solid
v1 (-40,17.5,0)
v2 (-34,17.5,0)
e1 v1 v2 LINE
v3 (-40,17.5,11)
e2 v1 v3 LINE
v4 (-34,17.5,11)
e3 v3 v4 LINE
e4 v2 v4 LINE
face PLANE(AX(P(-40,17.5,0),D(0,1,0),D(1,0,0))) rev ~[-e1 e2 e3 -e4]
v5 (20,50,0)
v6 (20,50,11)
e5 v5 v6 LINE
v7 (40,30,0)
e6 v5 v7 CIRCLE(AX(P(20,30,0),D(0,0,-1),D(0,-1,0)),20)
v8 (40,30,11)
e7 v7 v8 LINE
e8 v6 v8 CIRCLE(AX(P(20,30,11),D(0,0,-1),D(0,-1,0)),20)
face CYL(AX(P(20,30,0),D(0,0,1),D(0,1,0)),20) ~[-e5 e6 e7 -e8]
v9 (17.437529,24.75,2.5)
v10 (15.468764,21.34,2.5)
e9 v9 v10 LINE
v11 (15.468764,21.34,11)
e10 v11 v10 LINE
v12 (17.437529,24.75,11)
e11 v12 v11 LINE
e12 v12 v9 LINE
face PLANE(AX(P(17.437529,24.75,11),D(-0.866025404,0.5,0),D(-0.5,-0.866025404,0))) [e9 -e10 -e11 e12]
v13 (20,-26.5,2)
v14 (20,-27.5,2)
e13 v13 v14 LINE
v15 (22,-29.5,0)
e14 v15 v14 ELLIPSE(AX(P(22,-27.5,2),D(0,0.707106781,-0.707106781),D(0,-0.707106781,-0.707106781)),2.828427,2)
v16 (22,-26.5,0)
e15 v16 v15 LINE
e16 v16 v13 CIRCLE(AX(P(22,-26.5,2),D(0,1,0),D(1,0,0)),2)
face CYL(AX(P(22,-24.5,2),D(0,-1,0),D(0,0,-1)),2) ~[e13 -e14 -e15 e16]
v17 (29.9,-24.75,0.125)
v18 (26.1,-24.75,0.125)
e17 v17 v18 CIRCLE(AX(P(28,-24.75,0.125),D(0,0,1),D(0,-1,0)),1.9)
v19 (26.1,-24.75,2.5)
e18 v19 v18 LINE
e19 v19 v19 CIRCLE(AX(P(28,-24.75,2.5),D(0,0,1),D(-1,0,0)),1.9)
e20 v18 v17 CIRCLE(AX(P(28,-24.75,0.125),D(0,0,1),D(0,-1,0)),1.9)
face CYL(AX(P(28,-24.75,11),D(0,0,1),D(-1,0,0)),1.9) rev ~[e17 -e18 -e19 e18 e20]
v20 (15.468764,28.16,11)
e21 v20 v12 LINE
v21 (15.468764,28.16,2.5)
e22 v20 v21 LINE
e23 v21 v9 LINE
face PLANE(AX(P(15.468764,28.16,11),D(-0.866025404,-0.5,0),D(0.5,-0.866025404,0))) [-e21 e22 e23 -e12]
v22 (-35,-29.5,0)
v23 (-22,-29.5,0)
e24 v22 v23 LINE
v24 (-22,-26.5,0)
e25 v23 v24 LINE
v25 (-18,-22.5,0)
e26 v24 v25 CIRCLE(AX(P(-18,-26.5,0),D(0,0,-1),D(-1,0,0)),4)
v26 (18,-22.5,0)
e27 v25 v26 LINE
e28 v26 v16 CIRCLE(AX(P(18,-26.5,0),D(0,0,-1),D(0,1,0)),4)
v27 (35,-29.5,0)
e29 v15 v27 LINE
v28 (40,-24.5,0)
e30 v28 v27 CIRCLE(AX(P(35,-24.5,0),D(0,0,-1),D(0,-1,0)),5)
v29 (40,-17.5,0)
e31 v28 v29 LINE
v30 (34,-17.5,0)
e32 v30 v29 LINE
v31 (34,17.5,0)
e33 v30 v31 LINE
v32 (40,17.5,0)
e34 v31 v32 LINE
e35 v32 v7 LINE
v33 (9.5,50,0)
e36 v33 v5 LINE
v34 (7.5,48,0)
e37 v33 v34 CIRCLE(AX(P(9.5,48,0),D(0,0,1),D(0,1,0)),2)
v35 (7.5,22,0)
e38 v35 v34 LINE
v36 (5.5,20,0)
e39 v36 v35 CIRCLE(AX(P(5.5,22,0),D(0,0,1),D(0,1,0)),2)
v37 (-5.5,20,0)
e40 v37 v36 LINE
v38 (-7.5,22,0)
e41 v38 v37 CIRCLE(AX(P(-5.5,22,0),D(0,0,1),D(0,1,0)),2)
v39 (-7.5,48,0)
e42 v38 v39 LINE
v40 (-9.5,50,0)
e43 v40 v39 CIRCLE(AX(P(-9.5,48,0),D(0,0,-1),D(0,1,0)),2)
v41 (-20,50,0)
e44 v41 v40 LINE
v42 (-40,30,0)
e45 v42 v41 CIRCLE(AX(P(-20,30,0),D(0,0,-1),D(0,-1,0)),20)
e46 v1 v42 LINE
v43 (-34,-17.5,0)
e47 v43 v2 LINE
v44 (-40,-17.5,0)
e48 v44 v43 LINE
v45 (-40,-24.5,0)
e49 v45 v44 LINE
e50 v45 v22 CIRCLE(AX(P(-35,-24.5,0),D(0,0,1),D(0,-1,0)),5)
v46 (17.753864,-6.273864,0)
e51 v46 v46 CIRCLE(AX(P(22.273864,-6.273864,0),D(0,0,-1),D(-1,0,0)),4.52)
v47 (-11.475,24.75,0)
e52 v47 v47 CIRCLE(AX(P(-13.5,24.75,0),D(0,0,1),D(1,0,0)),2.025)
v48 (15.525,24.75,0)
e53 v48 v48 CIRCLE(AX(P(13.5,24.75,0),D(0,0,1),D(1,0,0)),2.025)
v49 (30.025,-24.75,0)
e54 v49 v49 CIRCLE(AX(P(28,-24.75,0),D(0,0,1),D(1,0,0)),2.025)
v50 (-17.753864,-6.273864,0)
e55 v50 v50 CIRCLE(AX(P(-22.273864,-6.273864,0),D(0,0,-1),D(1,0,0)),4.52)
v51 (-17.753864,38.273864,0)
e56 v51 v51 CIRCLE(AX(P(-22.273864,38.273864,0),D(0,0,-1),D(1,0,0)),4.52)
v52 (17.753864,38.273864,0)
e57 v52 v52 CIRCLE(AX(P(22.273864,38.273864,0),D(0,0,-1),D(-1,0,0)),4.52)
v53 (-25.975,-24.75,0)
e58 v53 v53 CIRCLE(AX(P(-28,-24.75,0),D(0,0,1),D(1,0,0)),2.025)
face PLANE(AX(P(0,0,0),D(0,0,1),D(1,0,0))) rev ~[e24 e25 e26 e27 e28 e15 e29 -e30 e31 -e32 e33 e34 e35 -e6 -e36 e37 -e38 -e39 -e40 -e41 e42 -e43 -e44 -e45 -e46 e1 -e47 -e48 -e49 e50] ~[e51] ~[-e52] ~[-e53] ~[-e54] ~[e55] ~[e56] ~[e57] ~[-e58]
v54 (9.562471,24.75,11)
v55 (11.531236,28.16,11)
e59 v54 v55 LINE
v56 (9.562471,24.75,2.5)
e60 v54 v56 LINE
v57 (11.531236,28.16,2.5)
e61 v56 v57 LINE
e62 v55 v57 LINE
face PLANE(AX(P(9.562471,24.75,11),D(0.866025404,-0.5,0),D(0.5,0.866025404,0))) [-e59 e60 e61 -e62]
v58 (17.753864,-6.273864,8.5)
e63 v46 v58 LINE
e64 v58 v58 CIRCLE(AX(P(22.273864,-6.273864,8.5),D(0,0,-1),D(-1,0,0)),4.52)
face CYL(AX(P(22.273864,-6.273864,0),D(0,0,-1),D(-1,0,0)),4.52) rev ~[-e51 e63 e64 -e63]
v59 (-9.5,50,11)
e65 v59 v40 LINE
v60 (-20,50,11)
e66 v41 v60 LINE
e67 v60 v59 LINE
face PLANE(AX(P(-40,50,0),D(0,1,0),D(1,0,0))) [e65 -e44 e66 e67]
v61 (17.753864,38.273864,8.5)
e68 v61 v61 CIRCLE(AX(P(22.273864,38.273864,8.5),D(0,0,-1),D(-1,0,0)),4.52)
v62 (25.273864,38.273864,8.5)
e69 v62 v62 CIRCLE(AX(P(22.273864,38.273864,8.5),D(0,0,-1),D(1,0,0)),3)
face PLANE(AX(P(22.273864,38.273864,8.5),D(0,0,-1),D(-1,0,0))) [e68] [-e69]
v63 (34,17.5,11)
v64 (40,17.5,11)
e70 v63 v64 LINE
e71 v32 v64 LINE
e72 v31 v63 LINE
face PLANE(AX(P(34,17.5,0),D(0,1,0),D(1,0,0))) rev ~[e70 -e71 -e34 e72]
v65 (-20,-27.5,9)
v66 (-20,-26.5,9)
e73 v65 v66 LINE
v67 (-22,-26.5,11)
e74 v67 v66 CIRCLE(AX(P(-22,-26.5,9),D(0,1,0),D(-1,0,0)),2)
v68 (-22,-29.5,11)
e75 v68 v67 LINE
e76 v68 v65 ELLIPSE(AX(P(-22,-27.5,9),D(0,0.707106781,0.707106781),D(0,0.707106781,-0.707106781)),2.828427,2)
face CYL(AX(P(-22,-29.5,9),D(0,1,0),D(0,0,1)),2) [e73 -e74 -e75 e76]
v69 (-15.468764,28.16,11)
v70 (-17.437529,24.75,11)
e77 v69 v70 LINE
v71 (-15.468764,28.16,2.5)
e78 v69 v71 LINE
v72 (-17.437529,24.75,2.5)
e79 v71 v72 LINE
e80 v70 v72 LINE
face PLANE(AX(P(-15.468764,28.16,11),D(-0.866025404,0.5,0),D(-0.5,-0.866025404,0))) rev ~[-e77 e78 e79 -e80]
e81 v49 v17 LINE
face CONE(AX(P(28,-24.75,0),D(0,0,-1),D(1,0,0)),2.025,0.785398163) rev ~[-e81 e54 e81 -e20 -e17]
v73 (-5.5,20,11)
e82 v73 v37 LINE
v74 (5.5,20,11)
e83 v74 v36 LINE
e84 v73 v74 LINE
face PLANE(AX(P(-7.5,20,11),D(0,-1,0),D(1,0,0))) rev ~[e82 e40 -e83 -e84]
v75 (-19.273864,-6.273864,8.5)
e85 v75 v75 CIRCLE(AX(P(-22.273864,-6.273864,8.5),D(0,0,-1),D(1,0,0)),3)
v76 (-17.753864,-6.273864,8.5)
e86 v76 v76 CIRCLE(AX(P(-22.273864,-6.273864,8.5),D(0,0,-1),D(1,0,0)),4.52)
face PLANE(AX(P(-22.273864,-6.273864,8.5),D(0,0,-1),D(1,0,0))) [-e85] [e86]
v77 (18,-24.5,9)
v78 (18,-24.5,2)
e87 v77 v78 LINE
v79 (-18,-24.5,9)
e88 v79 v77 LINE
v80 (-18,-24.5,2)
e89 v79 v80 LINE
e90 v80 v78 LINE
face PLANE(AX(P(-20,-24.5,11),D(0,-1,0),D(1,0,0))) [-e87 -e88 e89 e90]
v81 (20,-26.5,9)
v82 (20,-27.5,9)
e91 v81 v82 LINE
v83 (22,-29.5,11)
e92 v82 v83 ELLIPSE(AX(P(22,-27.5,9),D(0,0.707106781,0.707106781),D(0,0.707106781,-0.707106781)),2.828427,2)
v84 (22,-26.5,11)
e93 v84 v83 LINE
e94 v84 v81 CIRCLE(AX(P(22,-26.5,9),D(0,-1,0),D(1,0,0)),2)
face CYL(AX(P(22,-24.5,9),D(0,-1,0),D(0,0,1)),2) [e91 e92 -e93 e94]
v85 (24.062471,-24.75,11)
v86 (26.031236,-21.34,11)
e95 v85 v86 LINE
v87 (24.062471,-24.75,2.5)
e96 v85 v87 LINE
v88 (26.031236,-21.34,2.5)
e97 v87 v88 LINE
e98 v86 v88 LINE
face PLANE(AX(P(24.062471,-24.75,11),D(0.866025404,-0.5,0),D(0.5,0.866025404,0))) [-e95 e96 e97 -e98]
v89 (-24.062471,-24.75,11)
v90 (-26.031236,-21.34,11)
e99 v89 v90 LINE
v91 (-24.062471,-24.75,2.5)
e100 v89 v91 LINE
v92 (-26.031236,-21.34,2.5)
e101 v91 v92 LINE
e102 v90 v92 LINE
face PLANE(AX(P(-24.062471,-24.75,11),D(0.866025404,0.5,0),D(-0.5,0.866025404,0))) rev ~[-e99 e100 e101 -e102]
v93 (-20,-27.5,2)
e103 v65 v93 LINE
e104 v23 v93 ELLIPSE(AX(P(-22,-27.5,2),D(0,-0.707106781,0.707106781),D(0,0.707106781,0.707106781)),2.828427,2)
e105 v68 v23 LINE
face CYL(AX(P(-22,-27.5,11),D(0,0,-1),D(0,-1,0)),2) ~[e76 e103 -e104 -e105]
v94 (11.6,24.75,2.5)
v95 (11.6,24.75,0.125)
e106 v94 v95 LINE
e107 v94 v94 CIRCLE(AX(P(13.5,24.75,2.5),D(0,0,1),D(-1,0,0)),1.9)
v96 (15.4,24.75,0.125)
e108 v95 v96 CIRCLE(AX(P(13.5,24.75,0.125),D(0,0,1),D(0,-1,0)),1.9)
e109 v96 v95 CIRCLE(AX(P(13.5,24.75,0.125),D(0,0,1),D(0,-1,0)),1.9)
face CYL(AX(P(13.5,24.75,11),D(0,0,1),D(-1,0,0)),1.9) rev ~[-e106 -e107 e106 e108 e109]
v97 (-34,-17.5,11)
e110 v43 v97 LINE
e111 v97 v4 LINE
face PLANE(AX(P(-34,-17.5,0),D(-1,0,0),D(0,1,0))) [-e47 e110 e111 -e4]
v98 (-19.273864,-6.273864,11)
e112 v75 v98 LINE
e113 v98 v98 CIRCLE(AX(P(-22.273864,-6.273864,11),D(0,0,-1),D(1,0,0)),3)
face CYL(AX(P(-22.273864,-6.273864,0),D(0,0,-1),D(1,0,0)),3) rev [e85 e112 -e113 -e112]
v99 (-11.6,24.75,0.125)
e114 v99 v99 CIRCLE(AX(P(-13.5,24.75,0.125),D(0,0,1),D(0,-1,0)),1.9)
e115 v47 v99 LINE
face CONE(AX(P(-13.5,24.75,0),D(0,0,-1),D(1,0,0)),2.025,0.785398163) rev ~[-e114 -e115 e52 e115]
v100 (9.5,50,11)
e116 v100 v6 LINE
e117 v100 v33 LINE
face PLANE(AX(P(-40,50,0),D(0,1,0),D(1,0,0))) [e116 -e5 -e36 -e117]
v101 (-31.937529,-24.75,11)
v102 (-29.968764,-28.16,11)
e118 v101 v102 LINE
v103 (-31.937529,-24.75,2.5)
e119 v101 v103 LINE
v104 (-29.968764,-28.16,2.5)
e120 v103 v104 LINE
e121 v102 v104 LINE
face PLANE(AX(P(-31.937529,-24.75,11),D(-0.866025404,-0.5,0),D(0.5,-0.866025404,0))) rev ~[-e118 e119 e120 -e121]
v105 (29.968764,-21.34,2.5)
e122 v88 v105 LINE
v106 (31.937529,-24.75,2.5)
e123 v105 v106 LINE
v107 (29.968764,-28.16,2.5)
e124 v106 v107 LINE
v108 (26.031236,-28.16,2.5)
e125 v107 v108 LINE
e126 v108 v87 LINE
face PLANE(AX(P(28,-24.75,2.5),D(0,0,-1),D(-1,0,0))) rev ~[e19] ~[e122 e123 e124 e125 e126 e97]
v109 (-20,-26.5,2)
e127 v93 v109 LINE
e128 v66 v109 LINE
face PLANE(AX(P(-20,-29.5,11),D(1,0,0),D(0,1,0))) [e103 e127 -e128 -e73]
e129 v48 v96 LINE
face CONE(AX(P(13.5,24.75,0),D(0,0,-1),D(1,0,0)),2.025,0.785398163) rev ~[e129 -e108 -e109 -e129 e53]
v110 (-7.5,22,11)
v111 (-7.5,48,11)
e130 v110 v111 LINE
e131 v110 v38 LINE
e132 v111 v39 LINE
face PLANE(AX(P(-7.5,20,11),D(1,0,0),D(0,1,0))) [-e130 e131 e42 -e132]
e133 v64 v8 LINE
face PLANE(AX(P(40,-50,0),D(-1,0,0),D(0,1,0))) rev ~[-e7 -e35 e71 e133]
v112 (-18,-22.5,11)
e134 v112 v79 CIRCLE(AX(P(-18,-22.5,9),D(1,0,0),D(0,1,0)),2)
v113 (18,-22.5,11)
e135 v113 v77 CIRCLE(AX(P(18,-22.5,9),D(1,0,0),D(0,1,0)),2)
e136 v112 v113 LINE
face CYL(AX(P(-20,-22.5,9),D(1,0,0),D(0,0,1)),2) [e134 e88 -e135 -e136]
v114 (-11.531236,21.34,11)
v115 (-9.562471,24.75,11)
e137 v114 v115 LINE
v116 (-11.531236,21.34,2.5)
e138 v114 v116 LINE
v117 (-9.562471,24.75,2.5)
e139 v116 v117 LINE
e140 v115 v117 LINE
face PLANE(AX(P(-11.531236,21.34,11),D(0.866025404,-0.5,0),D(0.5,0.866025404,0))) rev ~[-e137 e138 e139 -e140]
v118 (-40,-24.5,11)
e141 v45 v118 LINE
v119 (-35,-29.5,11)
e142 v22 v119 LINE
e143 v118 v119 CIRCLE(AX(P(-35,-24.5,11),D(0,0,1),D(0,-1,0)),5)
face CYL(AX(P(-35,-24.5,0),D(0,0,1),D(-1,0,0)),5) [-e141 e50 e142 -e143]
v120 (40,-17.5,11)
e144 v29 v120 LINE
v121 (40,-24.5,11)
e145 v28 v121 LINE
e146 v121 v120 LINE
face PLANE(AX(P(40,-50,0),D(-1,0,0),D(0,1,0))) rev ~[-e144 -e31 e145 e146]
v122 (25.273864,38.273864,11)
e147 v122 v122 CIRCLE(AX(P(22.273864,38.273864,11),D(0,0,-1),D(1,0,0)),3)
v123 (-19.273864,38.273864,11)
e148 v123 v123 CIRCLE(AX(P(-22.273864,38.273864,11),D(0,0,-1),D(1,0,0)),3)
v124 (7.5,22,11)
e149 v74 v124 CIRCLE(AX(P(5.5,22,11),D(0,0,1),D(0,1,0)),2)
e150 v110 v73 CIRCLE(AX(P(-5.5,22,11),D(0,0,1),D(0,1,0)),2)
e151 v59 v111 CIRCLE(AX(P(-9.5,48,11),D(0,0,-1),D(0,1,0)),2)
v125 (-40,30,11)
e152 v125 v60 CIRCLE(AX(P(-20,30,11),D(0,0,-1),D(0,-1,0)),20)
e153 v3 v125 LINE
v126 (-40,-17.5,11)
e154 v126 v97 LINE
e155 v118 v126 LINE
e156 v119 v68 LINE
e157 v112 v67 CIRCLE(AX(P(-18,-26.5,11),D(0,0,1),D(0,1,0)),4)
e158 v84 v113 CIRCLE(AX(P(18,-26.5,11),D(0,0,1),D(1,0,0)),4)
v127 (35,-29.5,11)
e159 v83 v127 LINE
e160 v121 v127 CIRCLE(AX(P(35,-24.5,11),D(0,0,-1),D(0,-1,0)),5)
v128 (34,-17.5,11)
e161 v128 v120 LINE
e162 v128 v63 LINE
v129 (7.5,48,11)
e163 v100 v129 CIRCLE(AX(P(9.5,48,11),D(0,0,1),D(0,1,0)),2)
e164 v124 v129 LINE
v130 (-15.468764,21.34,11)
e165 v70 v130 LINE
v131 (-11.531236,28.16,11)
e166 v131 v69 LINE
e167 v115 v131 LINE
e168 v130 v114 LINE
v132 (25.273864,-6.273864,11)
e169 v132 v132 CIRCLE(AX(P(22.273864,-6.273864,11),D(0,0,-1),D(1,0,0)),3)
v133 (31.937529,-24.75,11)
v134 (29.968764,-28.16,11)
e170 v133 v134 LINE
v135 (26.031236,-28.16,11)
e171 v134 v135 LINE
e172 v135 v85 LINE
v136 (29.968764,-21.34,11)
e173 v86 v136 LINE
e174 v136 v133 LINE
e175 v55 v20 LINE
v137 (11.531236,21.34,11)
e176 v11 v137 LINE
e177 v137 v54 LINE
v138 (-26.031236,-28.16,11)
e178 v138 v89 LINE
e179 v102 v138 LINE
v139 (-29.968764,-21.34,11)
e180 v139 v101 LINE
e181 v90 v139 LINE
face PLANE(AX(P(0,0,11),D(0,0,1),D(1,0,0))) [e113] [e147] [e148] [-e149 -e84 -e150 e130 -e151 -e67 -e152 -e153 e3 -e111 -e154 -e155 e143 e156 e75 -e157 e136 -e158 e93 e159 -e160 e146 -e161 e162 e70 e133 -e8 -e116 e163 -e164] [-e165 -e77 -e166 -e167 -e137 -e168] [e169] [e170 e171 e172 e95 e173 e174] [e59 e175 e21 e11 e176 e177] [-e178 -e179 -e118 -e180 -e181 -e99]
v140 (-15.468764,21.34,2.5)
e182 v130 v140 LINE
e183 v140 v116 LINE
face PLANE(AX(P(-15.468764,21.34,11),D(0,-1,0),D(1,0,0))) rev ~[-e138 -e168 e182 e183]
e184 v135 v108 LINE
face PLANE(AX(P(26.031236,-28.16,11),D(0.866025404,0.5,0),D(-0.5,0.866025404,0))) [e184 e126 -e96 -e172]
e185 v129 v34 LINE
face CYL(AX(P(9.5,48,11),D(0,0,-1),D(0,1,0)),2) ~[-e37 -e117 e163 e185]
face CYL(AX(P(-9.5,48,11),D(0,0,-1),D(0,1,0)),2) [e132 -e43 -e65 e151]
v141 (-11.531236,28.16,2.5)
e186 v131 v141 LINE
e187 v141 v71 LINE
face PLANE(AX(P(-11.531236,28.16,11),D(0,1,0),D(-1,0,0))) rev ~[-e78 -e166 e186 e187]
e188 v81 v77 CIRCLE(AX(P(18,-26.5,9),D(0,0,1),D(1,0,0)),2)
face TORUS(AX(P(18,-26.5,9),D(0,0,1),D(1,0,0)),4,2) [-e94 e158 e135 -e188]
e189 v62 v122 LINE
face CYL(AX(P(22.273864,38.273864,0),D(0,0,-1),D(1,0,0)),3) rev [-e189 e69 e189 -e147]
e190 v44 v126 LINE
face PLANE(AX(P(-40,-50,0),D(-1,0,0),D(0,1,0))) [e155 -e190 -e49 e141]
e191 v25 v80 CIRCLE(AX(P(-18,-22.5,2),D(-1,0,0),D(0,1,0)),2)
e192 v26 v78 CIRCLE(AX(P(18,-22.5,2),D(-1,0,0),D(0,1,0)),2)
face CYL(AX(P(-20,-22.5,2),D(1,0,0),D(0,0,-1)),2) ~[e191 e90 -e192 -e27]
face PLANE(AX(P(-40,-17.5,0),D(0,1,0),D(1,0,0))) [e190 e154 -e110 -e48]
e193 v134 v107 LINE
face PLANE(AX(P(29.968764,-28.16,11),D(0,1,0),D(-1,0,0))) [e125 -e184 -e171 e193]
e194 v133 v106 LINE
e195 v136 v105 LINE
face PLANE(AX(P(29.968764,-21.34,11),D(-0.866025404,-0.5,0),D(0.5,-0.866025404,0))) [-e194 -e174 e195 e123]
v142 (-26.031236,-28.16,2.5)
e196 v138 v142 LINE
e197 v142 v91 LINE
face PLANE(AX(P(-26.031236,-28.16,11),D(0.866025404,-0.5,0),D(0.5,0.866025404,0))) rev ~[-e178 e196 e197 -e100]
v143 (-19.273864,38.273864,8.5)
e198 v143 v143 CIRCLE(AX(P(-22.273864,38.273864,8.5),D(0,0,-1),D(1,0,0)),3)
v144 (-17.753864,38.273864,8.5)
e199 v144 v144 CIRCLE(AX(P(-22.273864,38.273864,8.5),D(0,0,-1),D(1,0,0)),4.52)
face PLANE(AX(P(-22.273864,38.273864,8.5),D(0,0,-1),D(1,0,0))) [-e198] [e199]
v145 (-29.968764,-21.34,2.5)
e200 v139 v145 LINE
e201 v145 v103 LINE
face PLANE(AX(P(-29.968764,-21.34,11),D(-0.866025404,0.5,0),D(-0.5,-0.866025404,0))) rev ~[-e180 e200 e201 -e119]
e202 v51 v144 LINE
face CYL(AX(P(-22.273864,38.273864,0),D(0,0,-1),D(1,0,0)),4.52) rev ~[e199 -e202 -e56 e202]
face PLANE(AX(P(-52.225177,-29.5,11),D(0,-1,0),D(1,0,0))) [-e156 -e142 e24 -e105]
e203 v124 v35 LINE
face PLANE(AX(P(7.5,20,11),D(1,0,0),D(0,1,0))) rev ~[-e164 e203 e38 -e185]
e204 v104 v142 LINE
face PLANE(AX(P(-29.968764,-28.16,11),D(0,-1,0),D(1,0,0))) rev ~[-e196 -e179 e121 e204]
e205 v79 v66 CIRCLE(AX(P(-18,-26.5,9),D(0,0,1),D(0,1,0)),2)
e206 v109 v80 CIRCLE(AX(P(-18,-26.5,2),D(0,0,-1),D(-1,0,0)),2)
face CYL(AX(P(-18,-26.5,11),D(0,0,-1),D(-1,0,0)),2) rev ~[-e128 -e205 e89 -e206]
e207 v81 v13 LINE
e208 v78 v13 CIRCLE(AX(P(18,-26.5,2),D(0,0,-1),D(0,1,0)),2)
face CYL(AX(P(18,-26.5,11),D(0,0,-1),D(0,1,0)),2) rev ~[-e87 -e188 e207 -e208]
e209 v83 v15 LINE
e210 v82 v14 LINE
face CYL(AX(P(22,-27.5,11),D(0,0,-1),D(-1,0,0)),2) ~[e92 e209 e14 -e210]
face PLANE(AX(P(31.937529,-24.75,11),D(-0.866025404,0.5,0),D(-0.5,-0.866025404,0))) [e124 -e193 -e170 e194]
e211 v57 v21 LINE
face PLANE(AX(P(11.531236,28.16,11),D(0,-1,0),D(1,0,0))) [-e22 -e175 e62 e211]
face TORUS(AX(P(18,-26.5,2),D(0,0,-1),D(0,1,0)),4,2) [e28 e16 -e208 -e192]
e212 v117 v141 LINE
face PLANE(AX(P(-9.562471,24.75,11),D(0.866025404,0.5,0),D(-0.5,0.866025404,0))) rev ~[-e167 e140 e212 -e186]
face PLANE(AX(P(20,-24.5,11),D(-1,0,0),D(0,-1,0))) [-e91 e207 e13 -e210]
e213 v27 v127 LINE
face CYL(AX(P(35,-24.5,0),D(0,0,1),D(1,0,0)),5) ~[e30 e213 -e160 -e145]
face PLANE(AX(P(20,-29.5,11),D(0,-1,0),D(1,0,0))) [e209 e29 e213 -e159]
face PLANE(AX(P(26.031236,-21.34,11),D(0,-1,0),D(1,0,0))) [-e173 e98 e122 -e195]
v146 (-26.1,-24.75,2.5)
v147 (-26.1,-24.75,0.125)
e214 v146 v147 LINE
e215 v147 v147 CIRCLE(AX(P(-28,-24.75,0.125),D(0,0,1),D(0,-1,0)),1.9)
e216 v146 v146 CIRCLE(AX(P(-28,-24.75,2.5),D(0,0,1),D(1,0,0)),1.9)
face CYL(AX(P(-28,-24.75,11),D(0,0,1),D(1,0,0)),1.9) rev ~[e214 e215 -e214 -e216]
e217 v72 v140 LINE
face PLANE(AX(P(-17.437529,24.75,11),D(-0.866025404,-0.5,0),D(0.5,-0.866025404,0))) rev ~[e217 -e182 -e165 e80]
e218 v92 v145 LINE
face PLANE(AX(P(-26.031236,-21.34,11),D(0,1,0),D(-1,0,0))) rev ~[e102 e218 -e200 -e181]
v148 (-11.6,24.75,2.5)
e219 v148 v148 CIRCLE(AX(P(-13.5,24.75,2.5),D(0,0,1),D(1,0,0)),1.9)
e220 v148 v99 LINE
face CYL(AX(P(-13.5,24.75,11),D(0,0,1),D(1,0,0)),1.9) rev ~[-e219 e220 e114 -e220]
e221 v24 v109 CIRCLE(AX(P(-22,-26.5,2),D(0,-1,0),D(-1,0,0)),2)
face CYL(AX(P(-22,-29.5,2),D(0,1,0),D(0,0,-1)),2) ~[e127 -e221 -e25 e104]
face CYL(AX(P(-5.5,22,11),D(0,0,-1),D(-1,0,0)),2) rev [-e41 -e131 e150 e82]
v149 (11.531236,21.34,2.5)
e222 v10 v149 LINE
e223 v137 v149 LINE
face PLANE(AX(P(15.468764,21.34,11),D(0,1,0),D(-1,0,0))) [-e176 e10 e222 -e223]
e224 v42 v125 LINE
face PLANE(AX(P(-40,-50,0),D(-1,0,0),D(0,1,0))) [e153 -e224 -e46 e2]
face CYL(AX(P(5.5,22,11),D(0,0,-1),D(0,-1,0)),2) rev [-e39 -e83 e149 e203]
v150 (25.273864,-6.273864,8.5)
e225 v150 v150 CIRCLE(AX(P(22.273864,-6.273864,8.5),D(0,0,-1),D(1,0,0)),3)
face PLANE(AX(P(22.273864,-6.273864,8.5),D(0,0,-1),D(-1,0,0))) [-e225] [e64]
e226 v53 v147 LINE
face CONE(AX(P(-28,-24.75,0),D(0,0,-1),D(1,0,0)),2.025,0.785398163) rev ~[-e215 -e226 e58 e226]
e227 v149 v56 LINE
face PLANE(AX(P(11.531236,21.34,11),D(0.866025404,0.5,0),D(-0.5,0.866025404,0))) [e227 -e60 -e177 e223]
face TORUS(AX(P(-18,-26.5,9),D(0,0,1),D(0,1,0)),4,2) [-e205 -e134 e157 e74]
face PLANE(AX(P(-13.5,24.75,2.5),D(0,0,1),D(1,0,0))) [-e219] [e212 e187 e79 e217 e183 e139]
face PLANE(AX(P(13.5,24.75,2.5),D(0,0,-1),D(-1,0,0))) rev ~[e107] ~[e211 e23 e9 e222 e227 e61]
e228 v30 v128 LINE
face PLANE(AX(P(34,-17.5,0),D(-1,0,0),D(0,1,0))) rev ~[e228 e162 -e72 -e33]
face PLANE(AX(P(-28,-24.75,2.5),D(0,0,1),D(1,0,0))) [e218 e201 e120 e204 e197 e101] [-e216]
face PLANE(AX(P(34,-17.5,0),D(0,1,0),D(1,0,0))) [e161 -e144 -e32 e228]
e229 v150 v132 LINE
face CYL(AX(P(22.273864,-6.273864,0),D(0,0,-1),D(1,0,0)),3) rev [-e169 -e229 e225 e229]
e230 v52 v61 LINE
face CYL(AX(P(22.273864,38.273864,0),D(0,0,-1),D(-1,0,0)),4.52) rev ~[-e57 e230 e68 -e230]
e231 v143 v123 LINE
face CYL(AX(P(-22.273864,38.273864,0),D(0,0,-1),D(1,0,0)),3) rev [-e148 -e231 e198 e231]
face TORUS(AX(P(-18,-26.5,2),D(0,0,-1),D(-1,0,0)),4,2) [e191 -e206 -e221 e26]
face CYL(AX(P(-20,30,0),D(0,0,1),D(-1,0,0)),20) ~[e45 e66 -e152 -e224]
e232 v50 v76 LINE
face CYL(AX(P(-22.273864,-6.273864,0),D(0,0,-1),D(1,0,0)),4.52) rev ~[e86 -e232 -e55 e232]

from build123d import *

# Parameters (mm, degrees)
SKETCH_1_W                   = 80
SKETCH_1_H                   = 100
EXTRUDE_1_DEPTH              = 11
SKETCH_7_W                   = 15
SKETCH_7_H                   = 30
CUT_EXTRUDE_1_DEPTH          = 16
HOLE_WIZARD_M4_1_D           = 3.3
HOLE_WIZARD_M4_1_CSINK_D     = 4.05
HOLE_WIZARD_M4_1_CSINK_ANGLE = 90
FILLET_1_R                   = 20
FILLET_2_R                   = 2
SKETCH_9_W                   = 6
SKETCH_9_H                   = 35
CUT_EXTRUDE_2_DEPTH          = 11
SKETCH_11_R                  = 3
CUT_EXTRUDE_4_DEPTH          = 15
SKETCH_15_R                  = 1.9
CUT_EXTRUDE_8_DEPTH          = 14
SKETCH_16_R                  = 4.52
CUT_EXTRUDE_9_DEPTH          = 8.5
CUT_EXTRUDE_10_DEPTH         = 8.5
CUT_EXTRUDE_11_DEPTH         = 13.5
FILLET_4_R                   = 5
FILLET_5_R                   = 2


with BuildPart() as part:
    # 草图1 → 凸台-拉伸1 (new body)
    with BuildSketch(Plane.XY):
        Rectangle(SKETCH_1_W, SKETCH_1_H)
    extrude(amount=EXTRUDE_1_DEPTH)

    # 草图7 → 切除-拉伸1 (cut)
    with BuildSketch(Plane.XY.offset(11)):
        with Locations((0, 35)):
            Rectangle(SKETCH_7_W, SKETCH_7_H)
    extrude(amount=-CUT_EXTRUDE_1_DEPTH, mode=Mode.SUBTRACT)

    # M4 螺纹孔1 (through all)
    with Locations(Plane(origin=(13.5, 24.75, 0), x_dir=(-1, 0, 0), z_dir=(0, 0, -1))):
        with Locations((0, 0), (27, 0), (41.5, -49.5), (-14.5, -49.5)):
            CounterSinkHole(HOLE_WIZARD_M4_1_D / 2, HOLE_WIZARD_M4_1_CSINK_D / 2, counter_sink_angle=HOLE_WIZARD_M4_1_CSINK_ANGLE)

    # 圆角1
    fillet_1_edges = [part.edges().sort_by_distance(p)[0] for p in [
        (-40, 50, 5.5),
        (40, 50, 5.5),
    ]]
    fillet(fillet_1_edges, radius=FILLET_1_R)

    # 圆角2
    fillet_2_edges = [part.edges().sort_by_distance(p)[0] for p in [
        (-7.5, 20, 5.5),
        (-7.5, 50, 5.5),
        (7.5, 50, 5.5),
        (7.5, 20, 5.5),
        (40, -50, 5.5),
        (-40, -50, 5.5),
    ]]
    fillet(fillet_2_edges, radius=FILLET_2_R)

    # 草图9 → 切除-拉伸2 (cut)
    with BuildSketch(Plane.XY):
        with Locations((37, 0)):
            Rectangle(SKETCH_9_W, SKETCH_9_H)
        with Locations((-37, 0)):
            Rectangle(SKETCH_9_W, SKETCH_9_H)
    extrude(amount=CUT_EXTRUDE_2_DEPTH, mode=Mode.SUBTRACT)

    # 草图11 → 切除-拉伸4 (cut)
    with BuildSketch(Plane.XY):
        with Locations((-22.273863607, 38.273863607)):
            Circle(SKETCH_11_R)
        with Locations((22.273863607, 38.273863607)):
            Circle(SKETCH_11_R)
        with Locations((22.273863607, -6.273863607)):
            Circle(SKETCH_11_R)
        with Locations((-22.273863607, -6.273863607)):
            Circle(SKETCH_11_R)
    extrude(amount=CUT_EXTRUDE_4_DEPTH, mode=Mode.SUBTRACT)

    # 草图15 → 切除-拉伸8 (cut)
    with BuildSketch(Plane.XY.offset(11)):
        with Locations((-13.5, 24.75)):
            Circle(SKETCH_15_R)
        with Locations((-28, -24.75)):
            Circle(SKETCH_15_R)
        with Locations(Location((13.5, 24.75, 0), (0, 0, 180))):
            Circle(SKETCH_15_R)
        with Locations(Location((28, -24.75, 0), (0, 0, 180))):
            Circle(SKETCH_15_R)
    extrude(amount=-CUT_EXTRUDE_8_DEPTH, mode=Mode.SUBTRACT)

    # 草图16 → 切除-拉伸9 (cut)
    with BuildSketch(Plane(origin=(0, 0, 0), x_dir=(-1, 0, 0), z_dir=(0, 0, -1))):
        with Locations((-22.273863607, 38.273863607)):
            Circle(SKETCH_16_R)
        with Locations((-22.273863607, -6.273863607)):
            Circle(SKETCH_16_R)
        with Locations(Location((22.273863607, -6.273863607, 0), (0, 0, 180))):
            Circle(SKETCH_16_R)
        with Locations(Location((22.273863607, 38.273863607, 0), (0, 0, 180))):
            Circle(SKETCH_16_R)
    extrude(amount=-CUT_EXTRUDE_9_DEPTH, mode=Mode.SUBTRACT)

    # 草图17 → 切除-拉伸10 (cut)
    with BuildSketch(Plane.XY.offset(11)):
        Polygon((-15.468764418, 21.34), (-11.531235582, 21.34), (-9.562471164, 24.75), (-11.531235582, 28.16), (-15.468764418, 28.16), (-17.437528836, 24.75), align=None)
        Polygon((-26.031235582, -28.16), (-24.062471164, -24.75), (-26.031235582, -21.34), (-29.968764418, -21.34), (-31.937528836, -24.75), (-29.968764418, -28.16), align=None)
        Polygon((29.968764418, -28.16), (26.031235582, -28.16), (24.062471164, -24.75), (26.031235582, -21.34), (29.968764418, -21.34), (31.937528836, -24.75), align=None)
        Polygon((17.437528836, 24.75), (15.468764418, 21.34), (11.531235582, 21.34), (9.562471164, 24.75), (11.531235582, 28.16), (15.468764418, 28.16), align=None)
    extrude(amount=-CUT_EXTRUDE_10_DEPTH, mode=Mode.SUBTRACT)

    # 草图18 → 切除-拉伸11 (cut)
    with BuildSketch(Plane.XY.offset(11)):
        Polygon((-52.225177231, -29.5), (-20, -29.5), (-20, -24.5), (20, -24.5), (20, -29.5), (49.13660357, -29.5), (49.13660357, -55.082609568), (-52.225177231, -55.082609568), align=None)
    extrude(amount=-CUT_EXTRUDE_11_DEPTH, mode=Mode.SUBTRACT)

    # 圆角4
    fillet_4_edges = [part.edges().sort_by_distance(p)[0] for p in [
        (40, -29.5, 5.5),
        (-40, -29.5, 5.5),
    ]]
    fillet(fillet_4_edges, radius=FILLET_4_R)

    # 圆角5
    fillet_5_edges = [part.edges().sort_by_distance(p)[0] for p in [
        (-20, -27, 0),
        (-20, -29.5, 5.5),
        (0, -24.5, 0),
        (-20, -24.5, 5.5),
        (20, -27, 0),
        (20, -24.5, 5.5),
        (20, -29.5, 5.5),
        (20, -27, 11),
        (0, -24.5, 11),
        (-20, -27, 11),
    ]]
    fillet(fillet_5_edges, radius=FILLET_5_R)


solid = part.part
